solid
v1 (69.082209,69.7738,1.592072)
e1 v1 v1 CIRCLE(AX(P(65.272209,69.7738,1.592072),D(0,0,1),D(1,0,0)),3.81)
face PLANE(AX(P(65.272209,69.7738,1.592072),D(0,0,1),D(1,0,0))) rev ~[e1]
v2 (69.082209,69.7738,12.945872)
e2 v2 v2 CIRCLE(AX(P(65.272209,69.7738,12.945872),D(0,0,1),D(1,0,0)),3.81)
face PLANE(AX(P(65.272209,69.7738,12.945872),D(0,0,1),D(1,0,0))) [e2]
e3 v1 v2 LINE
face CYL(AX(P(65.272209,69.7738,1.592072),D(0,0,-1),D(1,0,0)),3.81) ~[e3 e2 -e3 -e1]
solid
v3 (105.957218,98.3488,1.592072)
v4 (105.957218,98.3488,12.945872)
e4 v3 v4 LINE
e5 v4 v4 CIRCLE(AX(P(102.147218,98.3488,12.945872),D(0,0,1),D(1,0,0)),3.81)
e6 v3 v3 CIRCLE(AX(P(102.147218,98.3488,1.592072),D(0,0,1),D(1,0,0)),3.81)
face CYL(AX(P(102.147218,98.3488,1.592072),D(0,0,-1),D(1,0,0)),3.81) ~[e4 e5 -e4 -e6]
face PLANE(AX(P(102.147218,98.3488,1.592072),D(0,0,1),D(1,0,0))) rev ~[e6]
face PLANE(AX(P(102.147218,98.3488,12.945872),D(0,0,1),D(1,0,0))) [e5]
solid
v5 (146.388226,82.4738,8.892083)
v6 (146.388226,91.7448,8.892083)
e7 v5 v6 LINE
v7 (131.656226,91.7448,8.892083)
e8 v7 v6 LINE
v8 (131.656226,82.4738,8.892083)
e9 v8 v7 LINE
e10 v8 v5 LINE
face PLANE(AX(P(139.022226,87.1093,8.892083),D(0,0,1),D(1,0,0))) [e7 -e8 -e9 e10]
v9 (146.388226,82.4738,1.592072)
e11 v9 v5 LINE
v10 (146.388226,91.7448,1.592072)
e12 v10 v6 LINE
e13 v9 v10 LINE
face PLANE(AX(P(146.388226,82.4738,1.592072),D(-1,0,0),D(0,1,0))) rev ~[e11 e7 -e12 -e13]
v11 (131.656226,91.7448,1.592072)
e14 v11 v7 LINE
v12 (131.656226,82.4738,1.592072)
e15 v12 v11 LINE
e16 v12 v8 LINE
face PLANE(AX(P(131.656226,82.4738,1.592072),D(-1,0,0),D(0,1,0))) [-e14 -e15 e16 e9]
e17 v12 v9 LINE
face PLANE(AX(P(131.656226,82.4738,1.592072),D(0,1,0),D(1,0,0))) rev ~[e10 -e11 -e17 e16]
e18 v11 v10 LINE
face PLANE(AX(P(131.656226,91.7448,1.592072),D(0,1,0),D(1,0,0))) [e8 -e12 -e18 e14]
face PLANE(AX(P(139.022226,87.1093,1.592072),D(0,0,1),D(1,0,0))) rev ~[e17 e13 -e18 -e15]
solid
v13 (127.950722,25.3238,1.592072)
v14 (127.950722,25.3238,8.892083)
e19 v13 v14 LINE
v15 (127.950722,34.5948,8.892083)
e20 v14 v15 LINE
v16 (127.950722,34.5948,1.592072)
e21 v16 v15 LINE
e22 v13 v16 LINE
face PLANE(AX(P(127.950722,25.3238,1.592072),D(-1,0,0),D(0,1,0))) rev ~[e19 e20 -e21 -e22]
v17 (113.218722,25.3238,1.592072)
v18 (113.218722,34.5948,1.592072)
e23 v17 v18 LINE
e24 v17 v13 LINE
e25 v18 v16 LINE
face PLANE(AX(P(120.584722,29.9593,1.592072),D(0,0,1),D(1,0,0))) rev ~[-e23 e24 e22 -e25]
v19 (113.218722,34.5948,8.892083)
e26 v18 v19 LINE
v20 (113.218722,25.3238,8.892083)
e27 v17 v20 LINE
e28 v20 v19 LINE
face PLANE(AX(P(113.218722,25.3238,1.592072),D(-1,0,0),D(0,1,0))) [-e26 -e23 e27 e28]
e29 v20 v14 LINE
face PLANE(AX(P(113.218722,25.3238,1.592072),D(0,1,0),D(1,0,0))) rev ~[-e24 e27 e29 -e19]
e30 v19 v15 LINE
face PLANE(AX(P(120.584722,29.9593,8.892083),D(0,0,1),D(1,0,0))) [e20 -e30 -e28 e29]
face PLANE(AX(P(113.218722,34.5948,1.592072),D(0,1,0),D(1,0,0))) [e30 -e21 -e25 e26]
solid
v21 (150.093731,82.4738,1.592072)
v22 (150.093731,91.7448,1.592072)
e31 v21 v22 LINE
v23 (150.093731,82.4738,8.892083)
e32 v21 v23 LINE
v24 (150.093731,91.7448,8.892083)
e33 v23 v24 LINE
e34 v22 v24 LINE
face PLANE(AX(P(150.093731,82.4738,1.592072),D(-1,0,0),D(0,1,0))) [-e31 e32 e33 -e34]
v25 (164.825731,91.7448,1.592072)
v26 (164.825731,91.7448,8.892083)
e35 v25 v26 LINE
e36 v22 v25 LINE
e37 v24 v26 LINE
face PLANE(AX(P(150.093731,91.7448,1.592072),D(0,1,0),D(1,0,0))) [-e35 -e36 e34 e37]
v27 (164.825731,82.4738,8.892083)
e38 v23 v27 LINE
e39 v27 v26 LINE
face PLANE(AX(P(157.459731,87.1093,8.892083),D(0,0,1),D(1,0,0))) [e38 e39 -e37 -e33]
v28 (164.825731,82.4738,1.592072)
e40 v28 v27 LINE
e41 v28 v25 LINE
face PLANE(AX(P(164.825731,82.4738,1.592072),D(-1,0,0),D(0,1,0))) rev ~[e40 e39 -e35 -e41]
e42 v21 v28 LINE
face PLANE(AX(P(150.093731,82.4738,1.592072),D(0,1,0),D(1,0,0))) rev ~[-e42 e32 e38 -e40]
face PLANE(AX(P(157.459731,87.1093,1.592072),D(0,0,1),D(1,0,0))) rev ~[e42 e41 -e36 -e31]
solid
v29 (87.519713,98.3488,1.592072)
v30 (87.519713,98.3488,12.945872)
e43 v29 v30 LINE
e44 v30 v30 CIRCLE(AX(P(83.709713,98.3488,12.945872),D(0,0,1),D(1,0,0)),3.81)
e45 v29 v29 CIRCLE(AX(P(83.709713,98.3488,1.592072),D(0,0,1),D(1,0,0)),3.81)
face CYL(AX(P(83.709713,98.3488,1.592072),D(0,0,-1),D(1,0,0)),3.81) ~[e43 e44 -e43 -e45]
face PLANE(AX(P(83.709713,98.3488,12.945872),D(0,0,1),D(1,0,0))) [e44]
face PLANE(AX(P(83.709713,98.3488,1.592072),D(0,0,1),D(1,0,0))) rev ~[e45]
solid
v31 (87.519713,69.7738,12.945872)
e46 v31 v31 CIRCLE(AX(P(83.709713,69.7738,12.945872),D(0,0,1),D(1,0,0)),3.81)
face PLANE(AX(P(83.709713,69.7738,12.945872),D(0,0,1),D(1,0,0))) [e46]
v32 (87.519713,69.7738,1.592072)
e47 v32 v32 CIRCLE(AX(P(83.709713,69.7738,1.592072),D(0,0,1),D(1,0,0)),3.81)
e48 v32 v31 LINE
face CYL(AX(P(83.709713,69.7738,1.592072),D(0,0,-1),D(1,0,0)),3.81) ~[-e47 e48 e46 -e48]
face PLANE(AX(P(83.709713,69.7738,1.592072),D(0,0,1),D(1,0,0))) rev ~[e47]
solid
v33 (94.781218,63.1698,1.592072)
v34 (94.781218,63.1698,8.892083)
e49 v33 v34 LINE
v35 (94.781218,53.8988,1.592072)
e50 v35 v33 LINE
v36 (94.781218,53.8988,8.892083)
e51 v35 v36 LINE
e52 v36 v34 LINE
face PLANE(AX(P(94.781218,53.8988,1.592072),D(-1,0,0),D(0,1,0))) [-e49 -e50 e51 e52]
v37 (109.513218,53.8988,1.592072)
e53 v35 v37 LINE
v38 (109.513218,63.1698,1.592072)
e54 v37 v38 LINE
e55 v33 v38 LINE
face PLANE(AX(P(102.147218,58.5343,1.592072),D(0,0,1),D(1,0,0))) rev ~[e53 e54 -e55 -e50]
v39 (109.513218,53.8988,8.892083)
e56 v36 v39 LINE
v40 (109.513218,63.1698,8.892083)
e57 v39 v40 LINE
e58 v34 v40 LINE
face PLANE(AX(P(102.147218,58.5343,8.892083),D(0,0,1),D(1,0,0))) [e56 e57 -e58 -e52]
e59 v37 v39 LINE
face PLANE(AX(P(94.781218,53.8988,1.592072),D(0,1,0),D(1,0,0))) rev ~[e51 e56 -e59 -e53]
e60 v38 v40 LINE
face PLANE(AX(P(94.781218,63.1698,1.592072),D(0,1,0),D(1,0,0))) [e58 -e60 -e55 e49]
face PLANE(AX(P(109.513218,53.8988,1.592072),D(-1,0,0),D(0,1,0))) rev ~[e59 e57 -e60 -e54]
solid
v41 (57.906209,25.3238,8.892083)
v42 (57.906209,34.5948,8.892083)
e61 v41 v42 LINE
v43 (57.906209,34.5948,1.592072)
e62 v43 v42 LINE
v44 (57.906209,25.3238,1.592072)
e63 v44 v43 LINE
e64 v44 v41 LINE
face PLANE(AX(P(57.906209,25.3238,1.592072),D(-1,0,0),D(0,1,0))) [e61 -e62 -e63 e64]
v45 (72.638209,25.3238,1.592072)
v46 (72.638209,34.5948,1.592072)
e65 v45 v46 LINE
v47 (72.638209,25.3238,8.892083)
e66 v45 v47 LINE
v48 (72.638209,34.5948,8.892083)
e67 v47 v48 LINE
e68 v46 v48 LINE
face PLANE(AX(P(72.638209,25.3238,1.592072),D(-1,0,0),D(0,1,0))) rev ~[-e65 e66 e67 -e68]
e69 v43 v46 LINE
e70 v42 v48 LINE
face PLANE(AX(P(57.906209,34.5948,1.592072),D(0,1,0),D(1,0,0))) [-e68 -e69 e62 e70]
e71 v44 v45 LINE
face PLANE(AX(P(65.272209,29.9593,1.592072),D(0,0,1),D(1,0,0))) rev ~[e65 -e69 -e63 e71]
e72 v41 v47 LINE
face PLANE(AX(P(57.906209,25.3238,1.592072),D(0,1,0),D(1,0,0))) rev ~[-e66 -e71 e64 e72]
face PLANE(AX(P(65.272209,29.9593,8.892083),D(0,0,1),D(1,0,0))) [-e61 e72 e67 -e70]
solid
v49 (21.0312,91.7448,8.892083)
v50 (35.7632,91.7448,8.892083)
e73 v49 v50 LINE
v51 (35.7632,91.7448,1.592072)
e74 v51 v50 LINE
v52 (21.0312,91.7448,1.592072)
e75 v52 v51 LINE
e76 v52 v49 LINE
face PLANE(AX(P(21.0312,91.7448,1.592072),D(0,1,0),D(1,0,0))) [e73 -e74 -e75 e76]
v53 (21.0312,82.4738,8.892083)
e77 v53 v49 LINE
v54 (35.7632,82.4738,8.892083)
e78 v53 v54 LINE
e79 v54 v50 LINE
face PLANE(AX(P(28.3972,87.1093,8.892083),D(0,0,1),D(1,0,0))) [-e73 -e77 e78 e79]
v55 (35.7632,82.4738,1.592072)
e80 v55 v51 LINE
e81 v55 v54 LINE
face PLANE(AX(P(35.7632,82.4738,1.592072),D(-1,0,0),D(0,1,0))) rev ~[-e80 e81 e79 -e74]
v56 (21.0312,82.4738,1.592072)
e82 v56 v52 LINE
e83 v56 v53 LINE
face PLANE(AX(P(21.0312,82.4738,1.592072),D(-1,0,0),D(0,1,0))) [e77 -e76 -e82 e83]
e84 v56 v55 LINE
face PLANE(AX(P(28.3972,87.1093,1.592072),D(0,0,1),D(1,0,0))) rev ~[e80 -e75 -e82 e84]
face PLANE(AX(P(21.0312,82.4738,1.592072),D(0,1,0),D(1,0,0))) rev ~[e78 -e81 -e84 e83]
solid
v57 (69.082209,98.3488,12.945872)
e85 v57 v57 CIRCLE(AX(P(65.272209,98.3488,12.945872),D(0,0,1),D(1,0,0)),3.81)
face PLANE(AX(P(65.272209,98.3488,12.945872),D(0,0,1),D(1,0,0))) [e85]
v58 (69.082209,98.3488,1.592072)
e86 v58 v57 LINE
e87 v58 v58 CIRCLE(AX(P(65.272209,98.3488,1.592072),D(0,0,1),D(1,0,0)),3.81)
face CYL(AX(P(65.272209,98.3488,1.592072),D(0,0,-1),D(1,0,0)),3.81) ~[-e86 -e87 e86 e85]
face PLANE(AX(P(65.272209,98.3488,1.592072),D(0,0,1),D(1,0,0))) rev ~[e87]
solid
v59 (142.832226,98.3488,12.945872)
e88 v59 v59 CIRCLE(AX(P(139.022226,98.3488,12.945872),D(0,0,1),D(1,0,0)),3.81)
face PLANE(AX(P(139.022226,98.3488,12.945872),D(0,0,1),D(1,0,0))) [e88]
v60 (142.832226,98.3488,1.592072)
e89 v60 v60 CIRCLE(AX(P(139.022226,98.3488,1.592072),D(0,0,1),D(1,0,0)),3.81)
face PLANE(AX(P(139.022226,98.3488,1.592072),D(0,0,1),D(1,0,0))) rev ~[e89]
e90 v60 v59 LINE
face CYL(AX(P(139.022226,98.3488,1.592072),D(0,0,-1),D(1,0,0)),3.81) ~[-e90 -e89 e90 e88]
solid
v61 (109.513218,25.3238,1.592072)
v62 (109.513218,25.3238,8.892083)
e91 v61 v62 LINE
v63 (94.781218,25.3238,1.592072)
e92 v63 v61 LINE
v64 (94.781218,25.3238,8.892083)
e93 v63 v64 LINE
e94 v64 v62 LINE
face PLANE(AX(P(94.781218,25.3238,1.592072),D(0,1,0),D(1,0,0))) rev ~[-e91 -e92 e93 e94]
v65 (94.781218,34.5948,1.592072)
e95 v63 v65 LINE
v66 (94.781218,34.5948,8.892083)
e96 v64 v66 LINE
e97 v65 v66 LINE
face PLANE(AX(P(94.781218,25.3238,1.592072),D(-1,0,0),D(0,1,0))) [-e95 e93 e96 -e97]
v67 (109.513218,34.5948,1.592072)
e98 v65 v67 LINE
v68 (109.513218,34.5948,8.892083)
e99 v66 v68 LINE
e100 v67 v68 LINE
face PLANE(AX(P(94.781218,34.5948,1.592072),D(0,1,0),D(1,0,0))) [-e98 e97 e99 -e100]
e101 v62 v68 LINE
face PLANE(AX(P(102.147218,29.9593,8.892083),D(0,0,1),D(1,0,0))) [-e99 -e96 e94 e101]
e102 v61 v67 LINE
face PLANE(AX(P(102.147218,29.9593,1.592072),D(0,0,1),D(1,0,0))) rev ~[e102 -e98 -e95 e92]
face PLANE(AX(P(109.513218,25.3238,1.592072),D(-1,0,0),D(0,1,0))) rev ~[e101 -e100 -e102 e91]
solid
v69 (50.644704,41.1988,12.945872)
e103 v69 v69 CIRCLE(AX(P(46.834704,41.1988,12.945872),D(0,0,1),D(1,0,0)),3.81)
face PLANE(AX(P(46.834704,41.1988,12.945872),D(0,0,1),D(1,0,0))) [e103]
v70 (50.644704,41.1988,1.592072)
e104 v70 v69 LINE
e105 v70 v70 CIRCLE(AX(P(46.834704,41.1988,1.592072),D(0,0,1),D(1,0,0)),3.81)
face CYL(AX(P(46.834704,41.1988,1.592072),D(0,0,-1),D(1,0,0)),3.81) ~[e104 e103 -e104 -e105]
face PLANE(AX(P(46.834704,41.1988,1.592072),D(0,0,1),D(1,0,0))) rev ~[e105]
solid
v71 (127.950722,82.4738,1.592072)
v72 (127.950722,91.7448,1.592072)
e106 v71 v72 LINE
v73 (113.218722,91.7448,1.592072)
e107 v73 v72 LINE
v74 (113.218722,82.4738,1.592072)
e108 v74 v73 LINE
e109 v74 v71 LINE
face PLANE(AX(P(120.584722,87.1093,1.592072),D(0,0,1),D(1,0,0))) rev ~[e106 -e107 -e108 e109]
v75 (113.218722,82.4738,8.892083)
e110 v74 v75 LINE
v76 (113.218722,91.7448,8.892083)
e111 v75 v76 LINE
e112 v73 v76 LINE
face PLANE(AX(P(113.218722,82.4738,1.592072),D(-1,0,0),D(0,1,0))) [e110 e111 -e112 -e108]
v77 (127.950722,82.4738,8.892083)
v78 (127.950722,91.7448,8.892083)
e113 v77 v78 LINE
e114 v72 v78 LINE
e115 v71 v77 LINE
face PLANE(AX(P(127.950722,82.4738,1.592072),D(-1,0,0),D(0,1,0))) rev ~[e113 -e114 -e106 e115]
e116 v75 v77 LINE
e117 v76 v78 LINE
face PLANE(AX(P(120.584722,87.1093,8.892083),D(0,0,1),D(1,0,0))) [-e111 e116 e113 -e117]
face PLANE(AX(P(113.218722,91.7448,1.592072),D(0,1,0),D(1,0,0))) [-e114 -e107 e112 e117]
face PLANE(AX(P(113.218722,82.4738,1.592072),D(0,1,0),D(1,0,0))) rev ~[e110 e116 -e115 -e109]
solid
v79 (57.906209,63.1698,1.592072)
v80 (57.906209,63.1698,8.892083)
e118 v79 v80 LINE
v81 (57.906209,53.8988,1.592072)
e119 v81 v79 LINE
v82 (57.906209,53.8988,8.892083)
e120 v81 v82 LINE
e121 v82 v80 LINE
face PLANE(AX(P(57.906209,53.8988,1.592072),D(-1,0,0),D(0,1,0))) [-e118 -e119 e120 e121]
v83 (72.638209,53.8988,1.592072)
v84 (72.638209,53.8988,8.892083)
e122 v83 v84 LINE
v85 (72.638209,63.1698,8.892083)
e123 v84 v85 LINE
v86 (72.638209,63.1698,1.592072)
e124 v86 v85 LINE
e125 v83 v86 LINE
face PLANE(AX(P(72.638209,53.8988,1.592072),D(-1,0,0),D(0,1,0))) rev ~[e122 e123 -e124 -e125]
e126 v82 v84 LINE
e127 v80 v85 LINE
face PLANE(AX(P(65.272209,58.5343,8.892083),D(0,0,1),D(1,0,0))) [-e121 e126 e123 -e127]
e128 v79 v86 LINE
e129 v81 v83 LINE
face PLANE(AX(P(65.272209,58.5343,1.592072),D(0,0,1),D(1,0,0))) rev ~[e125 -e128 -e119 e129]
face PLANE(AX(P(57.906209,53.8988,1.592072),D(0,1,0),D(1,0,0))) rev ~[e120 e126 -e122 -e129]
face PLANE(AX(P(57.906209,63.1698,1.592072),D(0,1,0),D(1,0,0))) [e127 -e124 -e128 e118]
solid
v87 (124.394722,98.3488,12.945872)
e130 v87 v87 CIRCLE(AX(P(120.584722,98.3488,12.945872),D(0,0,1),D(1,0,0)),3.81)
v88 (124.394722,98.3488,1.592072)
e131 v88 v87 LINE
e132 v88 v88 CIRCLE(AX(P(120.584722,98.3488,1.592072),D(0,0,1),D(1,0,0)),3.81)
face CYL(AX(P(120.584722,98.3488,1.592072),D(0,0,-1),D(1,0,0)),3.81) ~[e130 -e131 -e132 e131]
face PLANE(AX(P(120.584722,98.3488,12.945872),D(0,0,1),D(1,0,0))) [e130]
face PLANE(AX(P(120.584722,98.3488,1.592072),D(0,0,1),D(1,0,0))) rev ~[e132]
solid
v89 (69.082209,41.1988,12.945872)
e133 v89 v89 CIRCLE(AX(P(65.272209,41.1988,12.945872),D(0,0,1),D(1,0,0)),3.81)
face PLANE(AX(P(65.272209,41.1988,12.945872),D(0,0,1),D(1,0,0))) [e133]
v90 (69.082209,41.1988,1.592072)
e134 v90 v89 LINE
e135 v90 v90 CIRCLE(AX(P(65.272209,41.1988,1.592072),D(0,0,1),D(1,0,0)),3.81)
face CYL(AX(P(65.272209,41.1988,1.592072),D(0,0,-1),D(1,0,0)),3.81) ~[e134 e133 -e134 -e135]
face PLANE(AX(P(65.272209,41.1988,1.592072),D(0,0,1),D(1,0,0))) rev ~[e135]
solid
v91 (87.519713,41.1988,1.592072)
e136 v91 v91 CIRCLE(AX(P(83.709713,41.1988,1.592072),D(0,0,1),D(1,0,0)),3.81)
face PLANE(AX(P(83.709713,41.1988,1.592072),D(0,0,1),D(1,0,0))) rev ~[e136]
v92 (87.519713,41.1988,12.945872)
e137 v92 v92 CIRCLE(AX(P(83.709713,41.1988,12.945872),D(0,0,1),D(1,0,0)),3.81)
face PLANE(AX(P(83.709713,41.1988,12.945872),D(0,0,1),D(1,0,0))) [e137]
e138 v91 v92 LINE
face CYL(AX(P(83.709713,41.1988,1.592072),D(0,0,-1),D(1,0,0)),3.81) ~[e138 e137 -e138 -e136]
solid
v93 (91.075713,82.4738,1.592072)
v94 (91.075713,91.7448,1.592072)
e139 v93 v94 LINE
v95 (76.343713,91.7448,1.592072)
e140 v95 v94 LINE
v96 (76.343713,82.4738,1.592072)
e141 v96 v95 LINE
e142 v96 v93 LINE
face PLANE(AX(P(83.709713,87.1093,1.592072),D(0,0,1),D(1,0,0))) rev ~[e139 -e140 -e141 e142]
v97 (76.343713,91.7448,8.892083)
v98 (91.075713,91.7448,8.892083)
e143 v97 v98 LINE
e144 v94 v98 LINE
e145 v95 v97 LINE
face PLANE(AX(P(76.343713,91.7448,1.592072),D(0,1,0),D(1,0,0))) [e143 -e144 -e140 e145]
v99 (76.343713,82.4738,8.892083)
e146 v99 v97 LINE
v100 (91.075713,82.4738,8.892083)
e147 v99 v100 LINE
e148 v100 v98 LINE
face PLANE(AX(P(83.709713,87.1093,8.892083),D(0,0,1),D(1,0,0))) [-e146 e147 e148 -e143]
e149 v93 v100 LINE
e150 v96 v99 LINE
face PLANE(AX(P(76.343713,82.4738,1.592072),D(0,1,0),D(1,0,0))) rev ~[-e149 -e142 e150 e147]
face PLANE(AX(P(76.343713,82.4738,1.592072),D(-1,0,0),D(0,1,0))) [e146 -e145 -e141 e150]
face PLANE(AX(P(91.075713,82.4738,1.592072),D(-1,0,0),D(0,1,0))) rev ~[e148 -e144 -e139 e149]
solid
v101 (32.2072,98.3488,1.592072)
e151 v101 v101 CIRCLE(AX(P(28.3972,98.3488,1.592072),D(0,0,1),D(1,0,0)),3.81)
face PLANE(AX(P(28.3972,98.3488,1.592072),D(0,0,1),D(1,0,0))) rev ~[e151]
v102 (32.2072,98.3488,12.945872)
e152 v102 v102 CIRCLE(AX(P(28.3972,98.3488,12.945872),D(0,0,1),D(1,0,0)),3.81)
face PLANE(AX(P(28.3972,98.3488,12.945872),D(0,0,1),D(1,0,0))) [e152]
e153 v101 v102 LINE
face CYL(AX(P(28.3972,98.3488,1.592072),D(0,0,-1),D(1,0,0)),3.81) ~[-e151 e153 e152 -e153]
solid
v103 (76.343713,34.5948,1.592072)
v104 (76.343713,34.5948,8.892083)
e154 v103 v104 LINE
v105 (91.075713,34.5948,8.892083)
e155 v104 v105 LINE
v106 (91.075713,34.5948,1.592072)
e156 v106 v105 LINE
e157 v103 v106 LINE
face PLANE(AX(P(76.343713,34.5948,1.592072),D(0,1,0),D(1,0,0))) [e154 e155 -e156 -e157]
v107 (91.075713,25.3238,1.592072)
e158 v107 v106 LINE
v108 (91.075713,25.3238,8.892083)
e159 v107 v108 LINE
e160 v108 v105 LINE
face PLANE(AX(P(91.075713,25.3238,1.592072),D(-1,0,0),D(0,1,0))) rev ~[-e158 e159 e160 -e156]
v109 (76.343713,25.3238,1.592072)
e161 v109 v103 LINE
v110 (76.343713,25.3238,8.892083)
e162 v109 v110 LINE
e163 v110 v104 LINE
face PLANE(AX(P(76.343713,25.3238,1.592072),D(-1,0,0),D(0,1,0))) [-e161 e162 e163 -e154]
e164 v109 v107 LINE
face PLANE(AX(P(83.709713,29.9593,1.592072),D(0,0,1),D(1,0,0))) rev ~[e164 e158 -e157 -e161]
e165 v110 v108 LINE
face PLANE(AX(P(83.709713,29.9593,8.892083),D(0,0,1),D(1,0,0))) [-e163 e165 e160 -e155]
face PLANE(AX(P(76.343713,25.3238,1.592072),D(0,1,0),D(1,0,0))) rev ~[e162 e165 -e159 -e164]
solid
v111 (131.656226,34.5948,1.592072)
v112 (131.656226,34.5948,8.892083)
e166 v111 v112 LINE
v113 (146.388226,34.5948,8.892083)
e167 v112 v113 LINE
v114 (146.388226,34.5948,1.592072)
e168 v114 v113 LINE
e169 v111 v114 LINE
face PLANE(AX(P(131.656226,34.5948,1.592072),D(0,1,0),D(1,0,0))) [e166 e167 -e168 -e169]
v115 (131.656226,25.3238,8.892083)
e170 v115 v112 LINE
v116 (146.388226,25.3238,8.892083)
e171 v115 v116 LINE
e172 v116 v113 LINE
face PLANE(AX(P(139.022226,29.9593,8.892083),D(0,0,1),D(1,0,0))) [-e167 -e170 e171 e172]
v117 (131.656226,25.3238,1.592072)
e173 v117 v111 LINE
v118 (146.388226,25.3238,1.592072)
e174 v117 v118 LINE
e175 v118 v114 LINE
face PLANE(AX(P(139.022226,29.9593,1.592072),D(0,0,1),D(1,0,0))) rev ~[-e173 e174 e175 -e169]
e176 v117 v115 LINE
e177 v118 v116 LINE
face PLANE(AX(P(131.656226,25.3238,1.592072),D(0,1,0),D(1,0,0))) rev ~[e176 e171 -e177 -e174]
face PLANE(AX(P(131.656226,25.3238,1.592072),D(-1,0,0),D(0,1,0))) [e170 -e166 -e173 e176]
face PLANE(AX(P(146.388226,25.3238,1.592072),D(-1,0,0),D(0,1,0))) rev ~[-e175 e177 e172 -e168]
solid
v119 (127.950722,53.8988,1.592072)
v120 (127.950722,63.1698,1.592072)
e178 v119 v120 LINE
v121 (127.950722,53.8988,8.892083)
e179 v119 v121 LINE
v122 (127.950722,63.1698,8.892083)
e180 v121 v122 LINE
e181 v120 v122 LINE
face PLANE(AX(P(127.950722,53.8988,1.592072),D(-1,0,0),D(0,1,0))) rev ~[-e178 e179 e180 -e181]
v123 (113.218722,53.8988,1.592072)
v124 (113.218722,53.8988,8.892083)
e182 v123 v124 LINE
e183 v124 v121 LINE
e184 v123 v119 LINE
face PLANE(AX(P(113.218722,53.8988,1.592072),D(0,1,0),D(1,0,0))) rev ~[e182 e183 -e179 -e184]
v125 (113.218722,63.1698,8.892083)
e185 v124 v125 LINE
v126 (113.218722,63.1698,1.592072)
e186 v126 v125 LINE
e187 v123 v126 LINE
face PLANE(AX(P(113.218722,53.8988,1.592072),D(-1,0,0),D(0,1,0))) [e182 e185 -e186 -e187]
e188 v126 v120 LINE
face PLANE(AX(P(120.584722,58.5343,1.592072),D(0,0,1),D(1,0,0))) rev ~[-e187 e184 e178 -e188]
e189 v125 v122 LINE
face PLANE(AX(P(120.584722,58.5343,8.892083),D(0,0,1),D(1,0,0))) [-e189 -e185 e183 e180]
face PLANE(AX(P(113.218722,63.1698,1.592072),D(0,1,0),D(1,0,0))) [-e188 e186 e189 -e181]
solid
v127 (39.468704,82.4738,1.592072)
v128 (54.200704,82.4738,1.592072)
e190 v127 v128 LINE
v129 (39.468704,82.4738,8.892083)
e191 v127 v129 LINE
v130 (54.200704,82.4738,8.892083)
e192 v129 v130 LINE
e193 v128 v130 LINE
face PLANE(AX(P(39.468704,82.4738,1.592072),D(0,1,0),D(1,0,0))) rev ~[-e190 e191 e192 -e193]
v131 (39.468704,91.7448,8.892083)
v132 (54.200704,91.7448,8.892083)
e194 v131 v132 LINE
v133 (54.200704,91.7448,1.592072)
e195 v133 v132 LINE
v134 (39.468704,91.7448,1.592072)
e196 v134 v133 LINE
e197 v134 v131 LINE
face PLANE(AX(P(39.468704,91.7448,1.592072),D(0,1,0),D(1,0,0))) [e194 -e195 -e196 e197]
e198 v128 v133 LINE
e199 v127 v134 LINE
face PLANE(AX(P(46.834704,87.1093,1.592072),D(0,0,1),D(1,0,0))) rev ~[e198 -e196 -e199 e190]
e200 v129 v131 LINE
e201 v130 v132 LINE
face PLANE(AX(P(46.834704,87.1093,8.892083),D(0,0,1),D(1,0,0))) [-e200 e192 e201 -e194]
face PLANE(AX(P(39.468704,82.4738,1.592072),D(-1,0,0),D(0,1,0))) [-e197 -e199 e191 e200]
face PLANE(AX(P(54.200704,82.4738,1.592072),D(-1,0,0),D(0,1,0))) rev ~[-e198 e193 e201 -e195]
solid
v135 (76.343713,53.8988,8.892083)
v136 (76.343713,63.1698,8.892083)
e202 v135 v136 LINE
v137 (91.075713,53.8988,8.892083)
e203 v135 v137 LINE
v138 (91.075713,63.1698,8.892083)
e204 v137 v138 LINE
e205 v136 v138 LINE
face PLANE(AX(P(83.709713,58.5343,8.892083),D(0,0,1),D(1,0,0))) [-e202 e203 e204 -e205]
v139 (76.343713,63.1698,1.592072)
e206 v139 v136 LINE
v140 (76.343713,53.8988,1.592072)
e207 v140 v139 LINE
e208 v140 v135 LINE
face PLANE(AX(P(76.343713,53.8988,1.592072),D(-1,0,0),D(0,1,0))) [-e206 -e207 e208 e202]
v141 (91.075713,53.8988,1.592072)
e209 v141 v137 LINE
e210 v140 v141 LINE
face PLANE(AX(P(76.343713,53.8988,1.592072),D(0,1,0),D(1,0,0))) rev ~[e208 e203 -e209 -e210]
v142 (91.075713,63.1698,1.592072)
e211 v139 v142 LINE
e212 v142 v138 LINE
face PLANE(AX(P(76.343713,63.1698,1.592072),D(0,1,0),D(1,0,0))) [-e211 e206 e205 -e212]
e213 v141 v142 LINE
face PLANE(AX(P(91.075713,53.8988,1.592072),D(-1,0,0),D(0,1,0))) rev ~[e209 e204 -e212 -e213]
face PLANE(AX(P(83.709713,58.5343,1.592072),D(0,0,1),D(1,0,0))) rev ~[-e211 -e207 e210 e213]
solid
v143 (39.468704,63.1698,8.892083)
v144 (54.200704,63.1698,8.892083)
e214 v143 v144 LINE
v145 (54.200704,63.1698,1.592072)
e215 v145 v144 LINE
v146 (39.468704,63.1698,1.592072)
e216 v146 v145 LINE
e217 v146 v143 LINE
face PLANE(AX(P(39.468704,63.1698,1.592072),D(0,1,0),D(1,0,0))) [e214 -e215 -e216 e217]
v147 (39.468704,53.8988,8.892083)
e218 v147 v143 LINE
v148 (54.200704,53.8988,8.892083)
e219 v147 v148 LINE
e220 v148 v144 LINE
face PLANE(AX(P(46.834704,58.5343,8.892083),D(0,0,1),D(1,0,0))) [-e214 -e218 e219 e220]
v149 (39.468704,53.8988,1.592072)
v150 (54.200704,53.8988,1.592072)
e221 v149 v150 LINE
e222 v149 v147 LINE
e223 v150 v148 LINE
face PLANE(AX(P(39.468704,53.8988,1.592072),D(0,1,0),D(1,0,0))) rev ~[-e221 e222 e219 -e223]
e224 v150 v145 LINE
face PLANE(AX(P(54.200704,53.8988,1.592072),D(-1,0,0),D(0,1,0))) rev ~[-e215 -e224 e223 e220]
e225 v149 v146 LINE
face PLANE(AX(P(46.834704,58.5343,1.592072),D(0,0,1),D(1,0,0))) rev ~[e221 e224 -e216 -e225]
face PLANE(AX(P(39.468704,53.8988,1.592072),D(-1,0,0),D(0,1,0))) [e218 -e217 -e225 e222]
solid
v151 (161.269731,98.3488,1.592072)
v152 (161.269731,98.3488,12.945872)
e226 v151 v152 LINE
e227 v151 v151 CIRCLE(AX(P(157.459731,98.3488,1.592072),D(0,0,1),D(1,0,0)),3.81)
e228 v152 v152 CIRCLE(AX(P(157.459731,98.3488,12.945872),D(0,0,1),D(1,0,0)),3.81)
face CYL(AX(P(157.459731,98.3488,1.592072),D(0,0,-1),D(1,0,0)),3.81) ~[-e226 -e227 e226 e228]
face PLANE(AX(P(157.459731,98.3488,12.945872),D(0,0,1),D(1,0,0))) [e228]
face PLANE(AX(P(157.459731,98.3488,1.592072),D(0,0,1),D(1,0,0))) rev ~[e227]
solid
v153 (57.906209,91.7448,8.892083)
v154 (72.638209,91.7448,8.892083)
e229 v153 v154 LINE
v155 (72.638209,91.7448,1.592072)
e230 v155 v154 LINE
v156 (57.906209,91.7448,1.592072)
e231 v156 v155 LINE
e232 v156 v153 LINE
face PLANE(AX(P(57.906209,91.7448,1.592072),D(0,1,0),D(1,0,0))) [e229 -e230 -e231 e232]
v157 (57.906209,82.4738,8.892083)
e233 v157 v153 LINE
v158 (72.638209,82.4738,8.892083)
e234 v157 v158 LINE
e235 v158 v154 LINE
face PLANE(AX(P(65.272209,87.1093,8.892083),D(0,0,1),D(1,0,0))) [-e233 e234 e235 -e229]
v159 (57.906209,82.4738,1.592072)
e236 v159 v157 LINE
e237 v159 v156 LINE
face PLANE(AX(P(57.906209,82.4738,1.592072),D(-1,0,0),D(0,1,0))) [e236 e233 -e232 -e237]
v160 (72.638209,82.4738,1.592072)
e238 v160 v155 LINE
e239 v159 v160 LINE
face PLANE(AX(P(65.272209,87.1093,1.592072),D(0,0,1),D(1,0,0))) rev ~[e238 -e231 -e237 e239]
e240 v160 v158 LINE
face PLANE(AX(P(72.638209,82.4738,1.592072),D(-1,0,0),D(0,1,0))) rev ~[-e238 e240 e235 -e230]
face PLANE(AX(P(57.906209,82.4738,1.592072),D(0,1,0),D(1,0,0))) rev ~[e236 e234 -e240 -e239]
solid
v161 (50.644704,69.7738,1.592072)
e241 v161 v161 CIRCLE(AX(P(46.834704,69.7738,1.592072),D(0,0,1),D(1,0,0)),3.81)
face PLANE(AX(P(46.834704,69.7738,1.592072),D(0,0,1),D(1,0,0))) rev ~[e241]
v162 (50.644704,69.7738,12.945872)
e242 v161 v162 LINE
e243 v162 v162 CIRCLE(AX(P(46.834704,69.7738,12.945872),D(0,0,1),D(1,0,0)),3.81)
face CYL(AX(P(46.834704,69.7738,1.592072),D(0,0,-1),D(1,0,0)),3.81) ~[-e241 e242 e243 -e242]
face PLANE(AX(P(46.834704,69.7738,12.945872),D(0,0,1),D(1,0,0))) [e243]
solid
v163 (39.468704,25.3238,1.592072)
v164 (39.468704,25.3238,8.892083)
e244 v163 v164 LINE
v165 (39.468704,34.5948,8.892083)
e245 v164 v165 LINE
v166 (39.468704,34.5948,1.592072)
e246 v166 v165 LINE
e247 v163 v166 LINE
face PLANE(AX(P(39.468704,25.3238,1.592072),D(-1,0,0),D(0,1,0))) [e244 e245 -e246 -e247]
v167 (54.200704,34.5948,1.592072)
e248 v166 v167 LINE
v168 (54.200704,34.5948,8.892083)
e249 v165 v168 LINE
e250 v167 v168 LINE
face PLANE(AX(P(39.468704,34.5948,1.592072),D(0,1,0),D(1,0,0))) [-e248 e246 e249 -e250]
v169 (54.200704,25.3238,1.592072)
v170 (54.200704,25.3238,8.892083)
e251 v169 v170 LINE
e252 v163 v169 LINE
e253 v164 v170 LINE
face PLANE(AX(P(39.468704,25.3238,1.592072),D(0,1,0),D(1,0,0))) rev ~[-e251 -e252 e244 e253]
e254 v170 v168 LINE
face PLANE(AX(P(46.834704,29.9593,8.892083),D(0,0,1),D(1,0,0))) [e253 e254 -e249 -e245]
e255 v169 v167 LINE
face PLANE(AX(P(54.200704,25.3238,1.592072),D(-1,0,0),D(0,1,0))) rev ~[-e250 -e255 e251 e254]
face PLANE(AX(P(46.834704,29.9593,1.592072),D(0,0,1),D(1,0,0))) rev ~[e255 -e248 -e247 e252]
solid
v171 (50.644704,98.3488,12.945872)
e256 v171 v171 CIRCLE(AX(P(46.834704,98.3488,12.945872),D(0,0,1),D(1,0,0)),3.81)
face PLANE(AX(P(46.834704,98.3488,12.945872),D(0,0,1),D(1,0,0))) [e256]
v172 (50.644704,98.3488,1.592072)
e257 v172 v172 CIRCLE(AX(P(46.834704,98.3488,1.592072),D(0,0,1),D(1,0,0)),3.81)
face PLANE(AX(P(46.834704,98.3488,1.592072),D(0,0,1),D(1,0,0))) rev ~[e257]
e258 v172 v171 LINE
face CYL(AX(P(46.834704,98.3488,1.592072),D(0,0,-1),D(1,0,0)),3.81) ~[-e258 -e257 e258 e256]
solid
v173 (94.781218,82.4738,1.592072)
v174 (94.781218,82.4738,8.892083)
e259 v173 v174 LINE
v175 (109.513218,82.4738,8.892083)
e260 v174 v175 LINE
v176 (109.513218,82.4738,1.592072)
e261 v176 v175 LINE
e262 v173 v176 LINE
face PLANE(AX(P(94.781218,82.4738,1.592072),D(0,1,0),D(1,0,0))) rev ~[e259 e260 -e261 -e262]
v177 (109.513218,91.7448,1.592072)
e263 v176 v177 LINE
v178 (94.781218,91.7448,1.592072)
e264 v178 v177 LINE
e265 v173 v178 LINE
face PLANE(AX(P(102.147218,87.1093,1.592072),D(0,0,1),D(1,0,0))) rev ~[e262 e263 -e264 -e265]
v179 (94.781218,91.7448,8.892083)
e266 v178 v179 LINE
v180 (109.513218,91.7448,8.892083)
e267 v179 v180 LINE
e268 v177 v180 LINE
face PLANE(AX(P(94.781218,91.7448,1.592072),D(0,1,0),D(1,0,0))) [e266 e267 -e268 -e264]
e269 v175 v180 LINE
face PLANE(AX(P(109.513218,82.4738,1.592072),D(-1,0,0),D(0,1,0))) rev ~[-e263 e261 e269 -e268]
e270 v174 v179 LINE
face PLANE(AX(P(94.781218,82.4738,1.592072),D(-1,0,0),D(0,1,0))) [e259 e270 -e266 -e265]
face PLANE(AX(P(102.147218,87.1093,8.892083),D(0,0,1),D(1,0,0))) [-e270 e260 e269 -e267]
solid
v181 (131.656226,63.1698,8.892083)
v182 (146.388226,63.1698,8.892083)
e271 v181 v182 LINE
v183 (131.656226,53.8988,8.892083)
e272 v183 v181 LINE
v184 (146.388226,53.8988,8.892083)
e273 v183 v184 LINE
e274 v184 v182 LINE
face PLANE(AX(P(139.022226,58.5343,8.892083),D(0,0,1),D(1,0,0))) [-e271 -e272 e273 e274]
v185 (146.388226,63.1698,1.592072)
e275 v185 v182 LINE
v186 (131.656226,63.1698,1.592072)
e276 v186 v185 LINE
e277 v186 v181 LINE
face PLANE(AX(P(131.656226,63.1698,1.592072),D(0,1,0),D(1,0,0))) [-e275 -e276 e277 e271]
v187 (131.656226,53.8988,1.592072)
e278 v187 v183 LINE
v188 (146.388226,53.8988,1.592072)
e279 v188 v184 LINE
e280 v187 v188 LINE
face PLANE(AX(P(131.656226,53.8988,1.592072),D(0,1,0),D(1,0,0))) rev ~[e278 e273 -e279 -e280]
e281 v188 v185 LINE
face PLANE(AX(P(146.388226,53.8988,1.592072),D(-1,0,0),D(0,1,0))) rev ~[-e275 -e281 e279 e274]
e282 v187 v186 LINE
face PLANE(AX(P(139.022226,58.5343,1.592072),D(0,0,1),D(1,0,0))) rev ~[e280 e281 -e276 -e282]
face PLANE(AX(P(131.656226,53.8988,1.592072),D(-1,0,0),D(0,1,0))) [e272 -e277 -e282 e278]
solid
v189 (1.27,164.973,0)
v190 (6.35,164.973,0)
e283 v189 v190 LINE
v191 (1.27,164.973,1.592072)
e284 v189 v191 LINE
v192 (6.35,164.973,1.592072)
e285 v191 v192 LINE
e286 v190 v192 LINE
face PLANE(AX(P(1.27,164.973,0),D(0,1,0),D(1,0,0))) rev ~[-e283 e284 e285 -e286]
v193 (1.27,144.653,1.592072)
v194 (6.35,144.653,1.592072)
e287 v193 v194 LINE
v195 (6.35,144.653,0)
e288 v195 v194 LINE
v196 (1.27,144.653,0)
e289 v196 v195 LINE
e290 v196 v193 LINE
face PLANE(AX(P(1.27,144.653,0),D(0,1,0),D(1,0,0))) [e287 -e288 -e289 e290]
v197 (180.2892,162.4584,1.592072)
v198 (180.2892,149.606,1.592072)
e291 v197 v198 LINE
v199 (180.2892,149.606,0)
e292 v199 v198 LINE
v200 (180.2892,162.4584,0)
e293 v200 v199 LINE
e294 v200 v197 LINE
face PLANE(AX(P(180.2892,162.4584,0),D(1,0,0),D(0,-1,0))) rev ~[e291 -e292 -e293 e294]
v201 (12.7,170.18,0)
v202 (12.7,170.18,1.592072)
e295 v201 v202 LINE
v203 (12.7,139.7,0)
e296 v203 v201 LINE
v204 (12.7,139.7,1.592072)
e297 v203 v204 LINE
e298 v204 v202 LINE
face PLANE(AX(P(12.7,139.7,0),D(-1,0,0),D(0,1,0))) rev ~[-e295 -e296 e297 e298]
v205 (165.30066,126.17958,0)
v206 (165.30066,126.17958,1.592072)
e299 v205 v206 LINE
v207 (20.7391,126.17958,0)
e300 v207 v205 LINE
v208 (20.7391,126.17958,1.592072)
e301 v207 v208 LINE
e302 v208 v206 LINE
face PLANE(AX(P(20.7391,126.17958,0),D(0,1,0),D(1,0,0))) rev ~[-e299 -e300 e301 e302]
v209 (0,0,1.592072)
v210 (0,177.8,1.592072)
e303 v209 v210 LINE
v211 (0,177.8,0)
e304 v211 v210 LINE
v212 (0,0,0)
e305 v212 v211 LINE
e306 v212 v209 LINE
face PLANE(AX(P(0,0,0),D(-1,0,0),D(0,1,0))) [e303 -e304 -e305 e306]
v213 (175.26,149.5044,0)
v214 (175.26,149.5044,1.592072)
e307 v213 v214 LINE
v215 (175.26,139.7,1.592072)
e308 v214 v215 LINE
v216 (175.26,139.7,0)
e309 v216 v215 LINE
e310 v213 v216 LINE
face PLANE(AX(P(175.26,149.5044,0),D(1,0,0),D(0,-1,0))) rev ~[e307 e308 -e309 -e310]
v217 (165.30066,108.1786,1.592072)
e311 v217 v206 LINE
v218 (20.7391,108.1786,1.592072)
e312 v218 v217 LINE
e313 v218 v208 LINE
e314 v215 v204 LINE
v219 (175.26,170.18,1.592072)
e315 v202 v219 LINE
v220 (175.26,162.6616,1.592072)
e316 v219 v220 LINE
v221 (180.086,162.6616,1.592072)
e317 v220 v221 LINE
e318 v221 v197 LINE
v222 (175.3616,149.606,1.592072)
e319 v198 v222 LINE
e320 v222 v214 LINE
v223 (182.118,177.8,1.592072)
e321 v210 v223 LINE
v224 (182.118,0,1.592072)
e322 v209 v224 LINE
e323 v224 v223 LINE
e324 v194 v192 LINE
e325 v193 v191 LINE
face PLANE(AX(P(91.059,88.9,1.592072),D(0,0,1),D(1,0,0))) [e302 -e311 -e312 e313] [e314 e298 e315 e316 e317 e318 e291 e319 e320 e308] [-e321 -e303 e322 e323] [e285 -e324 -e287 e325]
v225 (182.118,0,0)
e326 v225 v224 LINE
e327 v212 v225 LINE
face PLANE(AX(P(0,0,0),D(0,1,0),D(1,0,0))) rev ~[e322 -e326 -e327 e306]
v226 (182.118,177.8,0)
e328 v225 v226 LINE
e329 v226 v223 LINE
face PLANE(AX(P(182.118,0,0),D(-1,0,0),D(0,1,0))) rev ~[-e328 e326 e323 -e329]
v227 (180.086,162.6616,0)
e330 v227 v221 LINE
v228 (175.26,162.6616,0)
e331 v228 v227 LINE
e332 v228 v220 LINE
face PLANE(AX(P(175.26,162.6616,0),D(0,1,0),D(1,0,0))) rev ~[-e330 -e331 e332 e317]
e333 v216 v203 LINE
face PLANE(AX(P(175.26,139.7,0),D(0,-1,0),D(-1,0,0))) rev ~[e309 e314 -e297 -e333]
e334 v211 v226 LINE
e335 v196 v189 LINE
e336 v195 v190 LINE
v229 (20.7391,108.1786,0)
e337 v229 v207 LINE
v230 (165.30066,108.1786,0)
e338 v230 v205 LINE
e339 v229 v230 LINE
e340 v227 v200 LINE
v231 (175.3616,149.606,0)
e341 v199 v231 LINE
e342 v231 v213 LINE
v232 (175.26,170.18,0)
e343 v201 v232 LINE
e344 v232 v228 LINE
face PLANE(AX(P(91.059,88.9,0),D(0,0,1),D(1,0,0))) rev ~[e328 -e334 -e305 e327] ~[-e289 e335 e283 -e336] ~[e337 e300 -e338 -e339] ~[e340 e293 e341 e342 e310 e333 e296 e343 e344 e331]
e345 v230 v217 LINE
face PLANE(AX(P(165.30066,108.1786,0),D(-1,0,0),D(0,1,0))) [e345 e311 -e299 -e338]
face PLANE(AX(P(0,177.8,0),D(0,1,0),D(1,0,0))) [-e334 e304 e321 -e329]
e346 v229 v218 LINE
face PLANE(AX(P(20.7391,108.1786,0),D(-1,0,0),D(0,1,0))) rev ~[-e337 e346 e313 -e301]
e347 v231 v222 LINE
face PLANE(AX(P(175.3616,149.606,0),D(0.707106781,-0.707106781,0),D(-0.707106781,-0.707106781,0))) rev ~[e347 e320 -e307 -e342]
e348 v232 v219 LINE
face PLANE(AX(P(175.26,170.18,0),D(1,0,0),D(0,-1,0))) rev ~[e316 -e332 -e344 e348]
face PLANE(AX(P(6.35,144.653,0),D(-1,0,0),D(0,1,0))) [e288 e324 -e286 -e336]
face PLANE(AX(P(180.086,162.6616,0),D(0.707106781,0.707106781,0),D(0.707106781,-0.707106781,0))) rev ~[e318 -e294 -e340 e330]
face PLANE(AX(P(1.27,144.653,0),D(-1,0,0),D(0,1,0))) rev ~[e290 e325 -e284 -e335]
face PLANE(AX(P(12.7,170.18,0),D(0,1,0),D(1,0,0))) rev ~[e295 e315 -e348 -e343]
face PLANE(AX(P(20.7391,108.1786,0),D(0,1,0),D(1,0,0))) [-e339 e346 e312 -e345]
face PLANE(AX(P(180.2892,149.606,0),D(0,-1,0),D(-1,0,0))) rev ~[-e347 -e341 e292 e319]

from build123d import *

# Parameters (mm, degrees)
SKETCH1_W                       = 182.118
SKETCH1_H                       = 177.8
SKETCH1_W_2                     = 144.56156
SKETCH1_H_2                     = 18.00098
SKETCH1_W_3                     = 5.08
SKETCH1_H_3                     = 20.32
BOARD_DEPTH                     = 1.592072
SKETCH2_R                       = 3.81
LED_KINGBRIGHT_3P_2P54_1_DEPTH  = 11.3538
SKETCH3_R                       = 3.81
LED_KINGBRIGHT_3P_2P54_2_DEPTH  = 11.3538
SKETCH4_R                       = 3.81
LED_KINGBRIGHT_3P_2P54_3_DEPTH  = 11.3538
SKETCH6_R                       = 3.81
LED_KINGBRIGHT_3P_2P54_5_DEPTH  = 11.3538
SKETCH7_R                       = 3.81
LED_KINGBRIGHT_3P_2P54_6_DEPTH  = 11.3538
SKETCH8_R                       = 3.81
LED_KINGBRIGHT_3P_2P54_7_DEPTH  = 11.3538
SKETCH10_R                      = 3.81
LED_KINGBRIGHT_3P_2P54_9_DEPTH  = 11.3538
SKETCH11_R                      = 3.81
LED_KINGBRIGHT_3P_2P54_10_DEPTH = 11.3538
SKETCH12_R                      = 3.81
LED_KINGBRIGHT_3P_2P54_11_DEPTH = 11.3538
SKETCH13_R                      = 3.81
LED_KINGBRIGHT_3P_2P54_12_DEPTH = 11.3538
SKETCH14_R                      = 3.81
LED_KINGBRIGHT_3P_2P54_13_DEPTH = 11.3538
SKETCH15_R                      = 3.81
LED_KINGBRIGHT_3P_2P54_14_DEPTH = 11.3538
SKETCH16_R                      = 3.81
LED_KINGBRIGHT_3P_2P54_15_DEPTH = 11.3538
SKETCH17_R                      = 3.81
LED_KINGBRIGHT_3P_2P54_16_DEPTH = 11.3538
SKETCH18_W                      = 14.732
SKETCH18_H                      = 9.271
SWITCH_MCDTS2_1_DEPTH           = 7.3000108
SKETCH19_W                      = 14.732
SKETCH19_H                      = 9.271
SWITCH_MCDTS2_2_DEPTH           = 7.3000108
SKETCH20_W                      = 14.732
SKETCH20_H                      = 9.271
SWITCH_MCDTS2_3_DEPTH           = 7.3000108
SKETCH21_W                      = 14.732
SKETCH21_H                      = 9.271
SWITCH_MCDTS2_4_DEPTH           = 7.3000108
SKETCH22_W                      = 14.732
SKETCH22_H                      = 9.271
SWITCH_MCDTS2_5_DEPTH           = 7.3000108
SKETCH23_W                      = 14.732
SKETCH23_H                      = 9.271
SWITCH_MCDTS2_6_DEPTH           = 7.3000108
SKETCH25_W                      = 14.732
SKETCH25_H                      = 9.271
SWITCH_MCDTS2_8_DEPTH           = 7.3000108
SKETCH26_W                      = 14.732
SKETCH26_H                      = 9.271
SWITCH_MCDTS2_9_DEPTH           = 7.3000108
SKETCH27_W                      = 14.732
SKETCH27_H                      = 9.271
SWITCH_MCDTS2_10_DEPTH          = 7.3000108
SKETCH28_W                      = 14.732
SKETCH28_H                      = 9.271
SWITCH_MCDTS2_11_DEPTH          = 7.3000108
SKETCH29_W                      = 14.732
SKETCH29_H                      = 9.271
SWITCH_MCDTS2_12_DEPTH          = 7.3000108
SKETCH30_W                      = 14.732
SKETCH30_H                      = 9.271
SWITCH_MCDTS2_13_DEPTH          = 7.3000108
SKETCH32_W                      = 14.732
SKETCH32_H                      = 9.271
SWITCH_MCDTS2_15_DEPTH          = 7.3000108
SKETCH33_W                      = 14.732
SKETCH33_H                      = 9.271
SWITCH_MCDTS2_16_DEPTH          = 7.3000108
SKETCH34_W                      = 14.732
SKETCH34_H                      = 9.271
SWITCH_MCDTS2_17_DEPTH          = 7.3000108
SKETCH35_W                      = 14.732
SKETCH35_H                      = 9.271
SWITCH_MCDTS2_18_DEPTH          = 7.3000108
SKETCH36_W                      = 14.732
SKETCH36_H                      = 9.271
SWITCH_MCDTS2_19_DEPTH          = 7.3000108
SKETCH37_W                      = 14.732
SKETCH37_H                      = 9.271
SWITCH_MCDTS2_20_DEPTH          = 7.3000108
SKETCH38_W                      = 14.732
SKETCH38_H                      = 9.271
SWITCH_MCDTS2_21_DEPTH          = 7.3000108
SKETCH39_W                      = 14.732
SKETCH39_H                      = 9.271
SWITCH_MCDTS2_22_DEPTH          = 7.3000108


with BuildPart() as part:
    # Sketch1 → BOARD (new body)
    with BuildSketch(Plane.XY):
        with Locations((91.059, 88.9)):
            Rectangle(SKETCH1_W, SKETCH1_H)
        with Locations((93.01988, 117.17909)):
            Rectangle(SKETCH1_W_2, SKETCH1_H_2, mode=Mode.SUBTRACT)
        with Locations((3.81, 154.813)):
            Rectangle(SKETCH1_W_3, SKETCH1_H_3, mode=Mode.SUBTRACT)
        Polygon((12.7, 139.7), (12.7, 170.18), (175.26, 170.18), (175.26, 162.6616), (180.086, 162.6616), (180.2892, 162.4584), (180.2892, 149.606), (175.3616, 149.606), (175.26, 149.5044), (175.26, 139.7), align=None, mode=Mode.SUBTRACT)
    extrude(amount=BOARD_DEPTH)


with BuildPart() as body_2:
    # Sketch2 → LED-KINGBRIGHT_3P_2P54-1 (new body)
    with BuildSketch(Plane.XY.offset(1.592072)):
        with Locations((83.7097132, 41.1988)):
            Circle(SKETCH2_R)
    extrude(amount=LED_KINGBRIGHT_3P_2P54_1_DEPTH)


with BuildPart() as body_3:
    # Sketch3 → LED-KINGBRIGHT_3P_2P54-2 (new body)
    with BuildSketch(Plane.XY.offset(1.592072)):
        with Locations((65.2722088, 41.1988)):
            Circle(SKETCH3_R)
    extrude(amount=LED_KINGBRIGHT_3P_2P54_2_DEPTH)


with BuildPart() as body_4:
    # Sketch4 → LED-KINGBRIGHT_3P_2P54-3 (new body)
    with BuildSketch(Plane.XY.offset(1.592072)):
        with Locations((46.8347044, 41.1988)):
            Circle(SKETCH4_R)
    extrude(amount=LED_KINGBRIGHT_3P_2P54_3_DEPTH)


with BuildPart() as body_5:
    # Sketch6 → LED-KINGBRIGHT_3P_2P54-5 (new body)
    with BuildSketch(Plane.XY.offset(1.592072)):
        with Locations((83.7097132, 69.7738)):
            Circle(SKETCH6_R)
    extrude(amount=LED_KINGBRIGHT_3P_2P54_5_DEPTH)


with BuildPart() as body_6:
    # Sketch7 → LED-KINGBRIGHT_3P_2P54-6 (new body)
    with BuildSketch(Plane.XY.offset(1.592072)):
        with Locations((65.2722088, 69.7738)):
            Circle(SKETCH7_R)
    extrude(amount=LED_KINGBRIGHT_3P_2P54_6_DEPTH)


with BuildPart() as body_7:
    # Sketch8 → LED-KINGBRIGHT_3P_2P54-7 (new body)
    with BuildSketch(Plane.XY.offset(1.592072)):
        with Locations((46.8347044, 69.7738)):
            Circle(SKETCH8_R)
    extrude(amount=LED_KINGBRIGHT_3P_2P54_7_DEPTH)


with BuildPart() as body_8:
    # Sketch10 → LED-KINGBRIGHT_3P_2P54-9 (new body)
    with BuildSketch(Plane.XY.offset(1.592072)):
        with Locations((157.4597308, 98.3488)):
            Circle(SKETCH10_R)
    extrude(amount=LED_KINGBRIGHT_3P_2P54_9_DEPTH)


with BuildPart() as body_9:
    # Sketch11 → LED-KINGBRIGHT_3P_2P54-10 (new body)
    with BuildSketch(Plane.XY.offset(1.592072)):
        with Locations((139.0222264, 98.3488)):
            Circle(SKETCH11_R)
    extrude(amount=LED_KINGBRIGHT_3P_2P54_10_DEPTH)


with BuildPart() as body_10:
    # Sketch12 → LED-KINGBRIGHT_3P_2P54-11 (new body)
    with BuildSketch(Plane.XY.offset(1.592072)):
        with Locations((120.584722, 98.3488)):
            Circle(SKETCH12_R)
    extrude(amount=LED_KINGBRIGHT_3P_2P54_11_DEPTH)


with BuildPart() as body_11:
    # Sketch13 → LED-KINGBRIGHT_3P_2P54-12 (new body)
    with BuildSketch(Plane.XY.offset(1.592072)):
        with Locations((102.1472176, 98.3488)):
            Circle(SKETCH13_R)
    extrude(amount=LED_KINGBRIGHT_3P_2P54_12_DEPTH)


with BuildPart() as body_12:
    # Sketch14 → LED-KINGBRIGHT_3P_2P54-13 (new body)
    with BuildSketch(Plane.XY.offset(1.592072)):
        with Locations((83.7097132, 98.3488)):
            Circle(SKETCH14_R)
    extrude(amount=LED_KINGBRIGHT_3P_2P54_13_DEPTH)


with BuildPart() as body_13:
    # Sketch15 → LED-KINGBRIGHT_3P_2P54-14 (new body)
    with BuildSketch(Plane.XY.offset(1.592072)):
        with Locations((65.2722088, 98.3488)):
            Circle(SKETCH15_R)
    extrude(amount=LED_KINGBRIGHT_3P_2P54_14_DEPTH)


with BuildPart() as body_14:
    # Sketch16 → LED-KINGBRIGHT_3P_2P54-15 (new body)
    with BuildSketch(Plane.XY.offset(1.592072)):
        with Locations((46.8347044, 98.3488)):
            Circle(SKETCH16_R)
    extrude(amount=LED_KINGBRIGHT_3P_2P54_15_DEPTH)


with BuildPart() as body_15:
    # Sketch17 → LED-KINGBRIGHT_3P_2P54-16 (new body)
    with BuildSketch(Plane.XY.offset(1.592072)):
        with Locations((28.3972, 98.3488)):
            Circle(SKETCH17_R)
    extrude(amount=LED_KINGBRIGHT_3P_2P54_16_DEPTH)


with BuildPart() as body_16:
    # Sketch18 → SWITCH-MCDTS2-1 (new body)
    with BuildSketch(Plane.XY.offset(1.592072)):
        with Locations((139.0222264, 29.9593)):
            Rectangle(SKETCH18_W, SKETCH18_H)
    extrude(amount=SWITCH_MCDTS2_1_DEPTH)


with BuildPart() as body_17:
    # Sketch19 → SWITCH-MCDTS2-2 (new body)
    with BuildSketch(Plane.XY.offset(1.592072)):
        with Locations((120.584722, 29.9593)):
            Rectangle(SKETCH19_W, SKETCH19_H)
    extrude(amount=SWITCH_MCDTS2_2_DEPTH)


with BuildPart() as body_18:
    # Sketch20 → SWITCH-MCDTS2-3 (new body)
    with BuildSketch(Plane.XY.offset(1.592072)):
        with Locations((102.1472176, 29.9593)):
            Rectangle(SKETCH20_W, SKETCH20_H)
    extrude(amount=SWITCH_MCDTS2_3_DEPTH)


with BuildPart() as body_19:
    # Sketch21 → SWITCH-MCDTS2-4 (new body)
    with BuildSketch(Plane.XY.offset(1.592072)):
        with Locations((83.7097132, 29.9593)):
            Rectangle(SKETCH21_W, SKETCH21_H)
    extrude(amount=SWITCH_MCDTS2_4_DEPTH)


with BuildPart() as body_20:
    # Sketch22 → SWITCH-MCDTS2-5 (new body)
    with BuildSketch(Plane.XY.offset(1.592072)):
        with Locations((65.2722088, 29.9593)):
            Rectangle(SKETCH22_W, SKETCH22_H)
    extrude(amount=SWITCH_MCDTS2_5_DEPTH)


with BuildPart() as body_21:
    # Sketch23 → SWITCH-MCDTS2-6 (new body)
    with BuildSketch(Plane.XY.offset(1.592072)):
        with Locations((46.8347044, 29.9593)):
            Rectangle(SKETCH23_W, SKETCH23_H)
    extrude(amount=SWITCH_MCDTS2_6_DEPTH)


with BuildPart() as body_22:
    # Sketch25 → SWITCH-MCDTS2-8 (new body)
    with BuildSketch(Plane.XY.offset(1.592072)):
        with Locations((139.0222264, 58.5343)):
            Rectangle(SKETCH25_W, SKETCH25_H)
    extrude(amount=SWITCH_MCDTS2_8_DEPTH)


with BuildPart() as body_23:
    # Sketch26 → SWITCH-MCDTS2-9 (new body)
    with BuildSketch(Plane.XY.offset(1.592072)):
        with Locations((120.584722, 58.5343)):
            Rectangle(SKETCH26_W, SKETCH26_H)
    extrude(amount=SWITCH_MCDTS2_9_DEPTH)


with BuildPart() as body_24:
    # Sketch27 → SWITCH-MCDTS2-10 (new body)
    with BuildSketch(Plane.XY.offset(1.592072)):
        with Locations((102.1472176, 58.5343)):
            Rectangle(SKETCH27_W, SKETCH27_H)
    extrude(amount=SWITCH_MCDTS2_10_DEPTH)


with BuildPart() as body_25:
    # Sketch28 → SWITCH-MCDTS2-11 (new body)
    with BuildSketch(Plane.XY.offset(1.592072)):
        with Locations((83.7097132, 58.5343)):
            Rectangle(SKETCH28_W, SKETCH28_H)
    extrude(amount=SWITCH_MCDTS2_11_DEPTH)


with BuildPart() as body_26:
    # Sketch29 → SWITCH-MCDTS2-12 (new body)
    with BuildSketch(Plane.XY.offset(1.592072)):
        with Locations((65.2722088, 58.5343)):
            Rectangle(SKETCH29_W, SKETCH29_H)
    extrude(amount=SWITCH_MCDTS2_12_DEPTH)


with BuildPart() as body_27:
    # Sketch30 → SWITCH-MCDTS2-13 (new body)
    with BuildSketch(Plane.XY.offset(1.592072)):
        with Locations((46.8347044, 58.5343)):
            Rectangle(SKETCH30_W, SKETCH30_H)
    extrude(amount=SWITCH_MCDTS2_13_DEPTH)


with BuildPart() as body_28:
    # Sketch32 → SWITCH-MCDTS2-15 (new body)
    with BuildSketch(Plane.XY.offset(1.592072)):
        with Locations((157.4597308, 87.1093)):
            Rectangle(SKETCH32_W, SKETCH32_H)
    extrude(amount=SWITCH_MCDTS2_15_DEPTH)


with BuildPart() as body_29:
    # Sketch33 → SWITCH-MCDTS2-16 (new body)
    with BuildSketch(Plane.XY.offset(1.592072)):
        with Locations((139.0222264, 87.1093)):
            Rectangle(SKETCH33_W, SKETCH33_H)
    extrude(amount=SWITCH_MCDTS2_16_DEPTH)


with BuildPart() as body_30:
    # Sketch34 → SWITCH-MCDTS2-17 (new body)
    with BuildSketch(Plane.XY.offset(1.592072)):
        with Locations((120.584722, 87.1093)):
            Rectangle(SKETCH34_W, SKETCH34_H)
    extrude(amount=SWITCH_MCDTS2_17_DEPTH)


with BuildPart() as body_31:
    # Sketch35 → SWITCH-MCDTS2-18 (new body)
    with BuildSketch(Plane.XY.offset(1.592072)):
        with Locations((102.1472176, 87.1093)):
            Rectangle(SKETCH35_W, SKETCH35_H)
    extrude(amount=SWITCH_MCDTS2_18_DEPTH)


with BuildPart() as body_32:
    # Sketch36 → SWITCH-MCDTS2-19 (new body)
    with BuildSketch(Plane.XY.offset(1.592072)):
        with Locations((83.7097132, 87.1093)):
            Rectangle(SKETCH36_W, SKETCH36_H)
    extrude(amount=SWITCH_MCDTS2_19_DEPTH)


with BuildPart() as body_33:
    # Sketch37 → SWITCH-MCDTS2-20 (new body)
    with BuildSketch(Plane.XY.offset(1.592072)):
        with Locations((65.2722088, 87.1093)):
            Rectangle(SKETCH37_W, SKETCH37_H)
    extrude(amount=SWITCH_MCDTS2_20_DEPTH)


with BuildPart() as body_34:
    # Sketch38 → SWITCH-MCDTS2-21 (new body)
    with BuildSketch(Plane.XY.offset(1.592072)):
        with Locations((46.8347044, 87.1093)):
            Rectangle(SKETCH38_W, SKETCH38_H)
    extrude(amount=SWITCH_MCDTS2_21_DEPTH)


with BuildPart() as body_35:
    # Sketch39 → SWITCH-MCDTS2-22 (new body)
    with BuildSketch(Plane.XY.offset(1.592072)):
        with Locations((28.3972, 87.1093)):
            Rectangle(SKETCH39_W, SKETCH39_H)
    extrude(amount=SWITCH_MCDTS2_22_DEPTH)


solid = Compound([part.part, body_2.part, body_3.part, body_4.part, body_5.part, body_6.part, body_7.part, body_8.part, body_9.part, body_10.part, body_11.part, body_12.part, body_13.part, body_14.part, body_15.part, body_16.part, body_17.part, body_18.part, body_19.part, body_20.part, body_21.part, body_22.part, body_23.part, body_24.part, body_25.part, body_26.part, body_27.part, body_28.part, body_29.part, body_30.part, body_31.part, body_32.part, body_33.part, body_34.part, body_35.part])
